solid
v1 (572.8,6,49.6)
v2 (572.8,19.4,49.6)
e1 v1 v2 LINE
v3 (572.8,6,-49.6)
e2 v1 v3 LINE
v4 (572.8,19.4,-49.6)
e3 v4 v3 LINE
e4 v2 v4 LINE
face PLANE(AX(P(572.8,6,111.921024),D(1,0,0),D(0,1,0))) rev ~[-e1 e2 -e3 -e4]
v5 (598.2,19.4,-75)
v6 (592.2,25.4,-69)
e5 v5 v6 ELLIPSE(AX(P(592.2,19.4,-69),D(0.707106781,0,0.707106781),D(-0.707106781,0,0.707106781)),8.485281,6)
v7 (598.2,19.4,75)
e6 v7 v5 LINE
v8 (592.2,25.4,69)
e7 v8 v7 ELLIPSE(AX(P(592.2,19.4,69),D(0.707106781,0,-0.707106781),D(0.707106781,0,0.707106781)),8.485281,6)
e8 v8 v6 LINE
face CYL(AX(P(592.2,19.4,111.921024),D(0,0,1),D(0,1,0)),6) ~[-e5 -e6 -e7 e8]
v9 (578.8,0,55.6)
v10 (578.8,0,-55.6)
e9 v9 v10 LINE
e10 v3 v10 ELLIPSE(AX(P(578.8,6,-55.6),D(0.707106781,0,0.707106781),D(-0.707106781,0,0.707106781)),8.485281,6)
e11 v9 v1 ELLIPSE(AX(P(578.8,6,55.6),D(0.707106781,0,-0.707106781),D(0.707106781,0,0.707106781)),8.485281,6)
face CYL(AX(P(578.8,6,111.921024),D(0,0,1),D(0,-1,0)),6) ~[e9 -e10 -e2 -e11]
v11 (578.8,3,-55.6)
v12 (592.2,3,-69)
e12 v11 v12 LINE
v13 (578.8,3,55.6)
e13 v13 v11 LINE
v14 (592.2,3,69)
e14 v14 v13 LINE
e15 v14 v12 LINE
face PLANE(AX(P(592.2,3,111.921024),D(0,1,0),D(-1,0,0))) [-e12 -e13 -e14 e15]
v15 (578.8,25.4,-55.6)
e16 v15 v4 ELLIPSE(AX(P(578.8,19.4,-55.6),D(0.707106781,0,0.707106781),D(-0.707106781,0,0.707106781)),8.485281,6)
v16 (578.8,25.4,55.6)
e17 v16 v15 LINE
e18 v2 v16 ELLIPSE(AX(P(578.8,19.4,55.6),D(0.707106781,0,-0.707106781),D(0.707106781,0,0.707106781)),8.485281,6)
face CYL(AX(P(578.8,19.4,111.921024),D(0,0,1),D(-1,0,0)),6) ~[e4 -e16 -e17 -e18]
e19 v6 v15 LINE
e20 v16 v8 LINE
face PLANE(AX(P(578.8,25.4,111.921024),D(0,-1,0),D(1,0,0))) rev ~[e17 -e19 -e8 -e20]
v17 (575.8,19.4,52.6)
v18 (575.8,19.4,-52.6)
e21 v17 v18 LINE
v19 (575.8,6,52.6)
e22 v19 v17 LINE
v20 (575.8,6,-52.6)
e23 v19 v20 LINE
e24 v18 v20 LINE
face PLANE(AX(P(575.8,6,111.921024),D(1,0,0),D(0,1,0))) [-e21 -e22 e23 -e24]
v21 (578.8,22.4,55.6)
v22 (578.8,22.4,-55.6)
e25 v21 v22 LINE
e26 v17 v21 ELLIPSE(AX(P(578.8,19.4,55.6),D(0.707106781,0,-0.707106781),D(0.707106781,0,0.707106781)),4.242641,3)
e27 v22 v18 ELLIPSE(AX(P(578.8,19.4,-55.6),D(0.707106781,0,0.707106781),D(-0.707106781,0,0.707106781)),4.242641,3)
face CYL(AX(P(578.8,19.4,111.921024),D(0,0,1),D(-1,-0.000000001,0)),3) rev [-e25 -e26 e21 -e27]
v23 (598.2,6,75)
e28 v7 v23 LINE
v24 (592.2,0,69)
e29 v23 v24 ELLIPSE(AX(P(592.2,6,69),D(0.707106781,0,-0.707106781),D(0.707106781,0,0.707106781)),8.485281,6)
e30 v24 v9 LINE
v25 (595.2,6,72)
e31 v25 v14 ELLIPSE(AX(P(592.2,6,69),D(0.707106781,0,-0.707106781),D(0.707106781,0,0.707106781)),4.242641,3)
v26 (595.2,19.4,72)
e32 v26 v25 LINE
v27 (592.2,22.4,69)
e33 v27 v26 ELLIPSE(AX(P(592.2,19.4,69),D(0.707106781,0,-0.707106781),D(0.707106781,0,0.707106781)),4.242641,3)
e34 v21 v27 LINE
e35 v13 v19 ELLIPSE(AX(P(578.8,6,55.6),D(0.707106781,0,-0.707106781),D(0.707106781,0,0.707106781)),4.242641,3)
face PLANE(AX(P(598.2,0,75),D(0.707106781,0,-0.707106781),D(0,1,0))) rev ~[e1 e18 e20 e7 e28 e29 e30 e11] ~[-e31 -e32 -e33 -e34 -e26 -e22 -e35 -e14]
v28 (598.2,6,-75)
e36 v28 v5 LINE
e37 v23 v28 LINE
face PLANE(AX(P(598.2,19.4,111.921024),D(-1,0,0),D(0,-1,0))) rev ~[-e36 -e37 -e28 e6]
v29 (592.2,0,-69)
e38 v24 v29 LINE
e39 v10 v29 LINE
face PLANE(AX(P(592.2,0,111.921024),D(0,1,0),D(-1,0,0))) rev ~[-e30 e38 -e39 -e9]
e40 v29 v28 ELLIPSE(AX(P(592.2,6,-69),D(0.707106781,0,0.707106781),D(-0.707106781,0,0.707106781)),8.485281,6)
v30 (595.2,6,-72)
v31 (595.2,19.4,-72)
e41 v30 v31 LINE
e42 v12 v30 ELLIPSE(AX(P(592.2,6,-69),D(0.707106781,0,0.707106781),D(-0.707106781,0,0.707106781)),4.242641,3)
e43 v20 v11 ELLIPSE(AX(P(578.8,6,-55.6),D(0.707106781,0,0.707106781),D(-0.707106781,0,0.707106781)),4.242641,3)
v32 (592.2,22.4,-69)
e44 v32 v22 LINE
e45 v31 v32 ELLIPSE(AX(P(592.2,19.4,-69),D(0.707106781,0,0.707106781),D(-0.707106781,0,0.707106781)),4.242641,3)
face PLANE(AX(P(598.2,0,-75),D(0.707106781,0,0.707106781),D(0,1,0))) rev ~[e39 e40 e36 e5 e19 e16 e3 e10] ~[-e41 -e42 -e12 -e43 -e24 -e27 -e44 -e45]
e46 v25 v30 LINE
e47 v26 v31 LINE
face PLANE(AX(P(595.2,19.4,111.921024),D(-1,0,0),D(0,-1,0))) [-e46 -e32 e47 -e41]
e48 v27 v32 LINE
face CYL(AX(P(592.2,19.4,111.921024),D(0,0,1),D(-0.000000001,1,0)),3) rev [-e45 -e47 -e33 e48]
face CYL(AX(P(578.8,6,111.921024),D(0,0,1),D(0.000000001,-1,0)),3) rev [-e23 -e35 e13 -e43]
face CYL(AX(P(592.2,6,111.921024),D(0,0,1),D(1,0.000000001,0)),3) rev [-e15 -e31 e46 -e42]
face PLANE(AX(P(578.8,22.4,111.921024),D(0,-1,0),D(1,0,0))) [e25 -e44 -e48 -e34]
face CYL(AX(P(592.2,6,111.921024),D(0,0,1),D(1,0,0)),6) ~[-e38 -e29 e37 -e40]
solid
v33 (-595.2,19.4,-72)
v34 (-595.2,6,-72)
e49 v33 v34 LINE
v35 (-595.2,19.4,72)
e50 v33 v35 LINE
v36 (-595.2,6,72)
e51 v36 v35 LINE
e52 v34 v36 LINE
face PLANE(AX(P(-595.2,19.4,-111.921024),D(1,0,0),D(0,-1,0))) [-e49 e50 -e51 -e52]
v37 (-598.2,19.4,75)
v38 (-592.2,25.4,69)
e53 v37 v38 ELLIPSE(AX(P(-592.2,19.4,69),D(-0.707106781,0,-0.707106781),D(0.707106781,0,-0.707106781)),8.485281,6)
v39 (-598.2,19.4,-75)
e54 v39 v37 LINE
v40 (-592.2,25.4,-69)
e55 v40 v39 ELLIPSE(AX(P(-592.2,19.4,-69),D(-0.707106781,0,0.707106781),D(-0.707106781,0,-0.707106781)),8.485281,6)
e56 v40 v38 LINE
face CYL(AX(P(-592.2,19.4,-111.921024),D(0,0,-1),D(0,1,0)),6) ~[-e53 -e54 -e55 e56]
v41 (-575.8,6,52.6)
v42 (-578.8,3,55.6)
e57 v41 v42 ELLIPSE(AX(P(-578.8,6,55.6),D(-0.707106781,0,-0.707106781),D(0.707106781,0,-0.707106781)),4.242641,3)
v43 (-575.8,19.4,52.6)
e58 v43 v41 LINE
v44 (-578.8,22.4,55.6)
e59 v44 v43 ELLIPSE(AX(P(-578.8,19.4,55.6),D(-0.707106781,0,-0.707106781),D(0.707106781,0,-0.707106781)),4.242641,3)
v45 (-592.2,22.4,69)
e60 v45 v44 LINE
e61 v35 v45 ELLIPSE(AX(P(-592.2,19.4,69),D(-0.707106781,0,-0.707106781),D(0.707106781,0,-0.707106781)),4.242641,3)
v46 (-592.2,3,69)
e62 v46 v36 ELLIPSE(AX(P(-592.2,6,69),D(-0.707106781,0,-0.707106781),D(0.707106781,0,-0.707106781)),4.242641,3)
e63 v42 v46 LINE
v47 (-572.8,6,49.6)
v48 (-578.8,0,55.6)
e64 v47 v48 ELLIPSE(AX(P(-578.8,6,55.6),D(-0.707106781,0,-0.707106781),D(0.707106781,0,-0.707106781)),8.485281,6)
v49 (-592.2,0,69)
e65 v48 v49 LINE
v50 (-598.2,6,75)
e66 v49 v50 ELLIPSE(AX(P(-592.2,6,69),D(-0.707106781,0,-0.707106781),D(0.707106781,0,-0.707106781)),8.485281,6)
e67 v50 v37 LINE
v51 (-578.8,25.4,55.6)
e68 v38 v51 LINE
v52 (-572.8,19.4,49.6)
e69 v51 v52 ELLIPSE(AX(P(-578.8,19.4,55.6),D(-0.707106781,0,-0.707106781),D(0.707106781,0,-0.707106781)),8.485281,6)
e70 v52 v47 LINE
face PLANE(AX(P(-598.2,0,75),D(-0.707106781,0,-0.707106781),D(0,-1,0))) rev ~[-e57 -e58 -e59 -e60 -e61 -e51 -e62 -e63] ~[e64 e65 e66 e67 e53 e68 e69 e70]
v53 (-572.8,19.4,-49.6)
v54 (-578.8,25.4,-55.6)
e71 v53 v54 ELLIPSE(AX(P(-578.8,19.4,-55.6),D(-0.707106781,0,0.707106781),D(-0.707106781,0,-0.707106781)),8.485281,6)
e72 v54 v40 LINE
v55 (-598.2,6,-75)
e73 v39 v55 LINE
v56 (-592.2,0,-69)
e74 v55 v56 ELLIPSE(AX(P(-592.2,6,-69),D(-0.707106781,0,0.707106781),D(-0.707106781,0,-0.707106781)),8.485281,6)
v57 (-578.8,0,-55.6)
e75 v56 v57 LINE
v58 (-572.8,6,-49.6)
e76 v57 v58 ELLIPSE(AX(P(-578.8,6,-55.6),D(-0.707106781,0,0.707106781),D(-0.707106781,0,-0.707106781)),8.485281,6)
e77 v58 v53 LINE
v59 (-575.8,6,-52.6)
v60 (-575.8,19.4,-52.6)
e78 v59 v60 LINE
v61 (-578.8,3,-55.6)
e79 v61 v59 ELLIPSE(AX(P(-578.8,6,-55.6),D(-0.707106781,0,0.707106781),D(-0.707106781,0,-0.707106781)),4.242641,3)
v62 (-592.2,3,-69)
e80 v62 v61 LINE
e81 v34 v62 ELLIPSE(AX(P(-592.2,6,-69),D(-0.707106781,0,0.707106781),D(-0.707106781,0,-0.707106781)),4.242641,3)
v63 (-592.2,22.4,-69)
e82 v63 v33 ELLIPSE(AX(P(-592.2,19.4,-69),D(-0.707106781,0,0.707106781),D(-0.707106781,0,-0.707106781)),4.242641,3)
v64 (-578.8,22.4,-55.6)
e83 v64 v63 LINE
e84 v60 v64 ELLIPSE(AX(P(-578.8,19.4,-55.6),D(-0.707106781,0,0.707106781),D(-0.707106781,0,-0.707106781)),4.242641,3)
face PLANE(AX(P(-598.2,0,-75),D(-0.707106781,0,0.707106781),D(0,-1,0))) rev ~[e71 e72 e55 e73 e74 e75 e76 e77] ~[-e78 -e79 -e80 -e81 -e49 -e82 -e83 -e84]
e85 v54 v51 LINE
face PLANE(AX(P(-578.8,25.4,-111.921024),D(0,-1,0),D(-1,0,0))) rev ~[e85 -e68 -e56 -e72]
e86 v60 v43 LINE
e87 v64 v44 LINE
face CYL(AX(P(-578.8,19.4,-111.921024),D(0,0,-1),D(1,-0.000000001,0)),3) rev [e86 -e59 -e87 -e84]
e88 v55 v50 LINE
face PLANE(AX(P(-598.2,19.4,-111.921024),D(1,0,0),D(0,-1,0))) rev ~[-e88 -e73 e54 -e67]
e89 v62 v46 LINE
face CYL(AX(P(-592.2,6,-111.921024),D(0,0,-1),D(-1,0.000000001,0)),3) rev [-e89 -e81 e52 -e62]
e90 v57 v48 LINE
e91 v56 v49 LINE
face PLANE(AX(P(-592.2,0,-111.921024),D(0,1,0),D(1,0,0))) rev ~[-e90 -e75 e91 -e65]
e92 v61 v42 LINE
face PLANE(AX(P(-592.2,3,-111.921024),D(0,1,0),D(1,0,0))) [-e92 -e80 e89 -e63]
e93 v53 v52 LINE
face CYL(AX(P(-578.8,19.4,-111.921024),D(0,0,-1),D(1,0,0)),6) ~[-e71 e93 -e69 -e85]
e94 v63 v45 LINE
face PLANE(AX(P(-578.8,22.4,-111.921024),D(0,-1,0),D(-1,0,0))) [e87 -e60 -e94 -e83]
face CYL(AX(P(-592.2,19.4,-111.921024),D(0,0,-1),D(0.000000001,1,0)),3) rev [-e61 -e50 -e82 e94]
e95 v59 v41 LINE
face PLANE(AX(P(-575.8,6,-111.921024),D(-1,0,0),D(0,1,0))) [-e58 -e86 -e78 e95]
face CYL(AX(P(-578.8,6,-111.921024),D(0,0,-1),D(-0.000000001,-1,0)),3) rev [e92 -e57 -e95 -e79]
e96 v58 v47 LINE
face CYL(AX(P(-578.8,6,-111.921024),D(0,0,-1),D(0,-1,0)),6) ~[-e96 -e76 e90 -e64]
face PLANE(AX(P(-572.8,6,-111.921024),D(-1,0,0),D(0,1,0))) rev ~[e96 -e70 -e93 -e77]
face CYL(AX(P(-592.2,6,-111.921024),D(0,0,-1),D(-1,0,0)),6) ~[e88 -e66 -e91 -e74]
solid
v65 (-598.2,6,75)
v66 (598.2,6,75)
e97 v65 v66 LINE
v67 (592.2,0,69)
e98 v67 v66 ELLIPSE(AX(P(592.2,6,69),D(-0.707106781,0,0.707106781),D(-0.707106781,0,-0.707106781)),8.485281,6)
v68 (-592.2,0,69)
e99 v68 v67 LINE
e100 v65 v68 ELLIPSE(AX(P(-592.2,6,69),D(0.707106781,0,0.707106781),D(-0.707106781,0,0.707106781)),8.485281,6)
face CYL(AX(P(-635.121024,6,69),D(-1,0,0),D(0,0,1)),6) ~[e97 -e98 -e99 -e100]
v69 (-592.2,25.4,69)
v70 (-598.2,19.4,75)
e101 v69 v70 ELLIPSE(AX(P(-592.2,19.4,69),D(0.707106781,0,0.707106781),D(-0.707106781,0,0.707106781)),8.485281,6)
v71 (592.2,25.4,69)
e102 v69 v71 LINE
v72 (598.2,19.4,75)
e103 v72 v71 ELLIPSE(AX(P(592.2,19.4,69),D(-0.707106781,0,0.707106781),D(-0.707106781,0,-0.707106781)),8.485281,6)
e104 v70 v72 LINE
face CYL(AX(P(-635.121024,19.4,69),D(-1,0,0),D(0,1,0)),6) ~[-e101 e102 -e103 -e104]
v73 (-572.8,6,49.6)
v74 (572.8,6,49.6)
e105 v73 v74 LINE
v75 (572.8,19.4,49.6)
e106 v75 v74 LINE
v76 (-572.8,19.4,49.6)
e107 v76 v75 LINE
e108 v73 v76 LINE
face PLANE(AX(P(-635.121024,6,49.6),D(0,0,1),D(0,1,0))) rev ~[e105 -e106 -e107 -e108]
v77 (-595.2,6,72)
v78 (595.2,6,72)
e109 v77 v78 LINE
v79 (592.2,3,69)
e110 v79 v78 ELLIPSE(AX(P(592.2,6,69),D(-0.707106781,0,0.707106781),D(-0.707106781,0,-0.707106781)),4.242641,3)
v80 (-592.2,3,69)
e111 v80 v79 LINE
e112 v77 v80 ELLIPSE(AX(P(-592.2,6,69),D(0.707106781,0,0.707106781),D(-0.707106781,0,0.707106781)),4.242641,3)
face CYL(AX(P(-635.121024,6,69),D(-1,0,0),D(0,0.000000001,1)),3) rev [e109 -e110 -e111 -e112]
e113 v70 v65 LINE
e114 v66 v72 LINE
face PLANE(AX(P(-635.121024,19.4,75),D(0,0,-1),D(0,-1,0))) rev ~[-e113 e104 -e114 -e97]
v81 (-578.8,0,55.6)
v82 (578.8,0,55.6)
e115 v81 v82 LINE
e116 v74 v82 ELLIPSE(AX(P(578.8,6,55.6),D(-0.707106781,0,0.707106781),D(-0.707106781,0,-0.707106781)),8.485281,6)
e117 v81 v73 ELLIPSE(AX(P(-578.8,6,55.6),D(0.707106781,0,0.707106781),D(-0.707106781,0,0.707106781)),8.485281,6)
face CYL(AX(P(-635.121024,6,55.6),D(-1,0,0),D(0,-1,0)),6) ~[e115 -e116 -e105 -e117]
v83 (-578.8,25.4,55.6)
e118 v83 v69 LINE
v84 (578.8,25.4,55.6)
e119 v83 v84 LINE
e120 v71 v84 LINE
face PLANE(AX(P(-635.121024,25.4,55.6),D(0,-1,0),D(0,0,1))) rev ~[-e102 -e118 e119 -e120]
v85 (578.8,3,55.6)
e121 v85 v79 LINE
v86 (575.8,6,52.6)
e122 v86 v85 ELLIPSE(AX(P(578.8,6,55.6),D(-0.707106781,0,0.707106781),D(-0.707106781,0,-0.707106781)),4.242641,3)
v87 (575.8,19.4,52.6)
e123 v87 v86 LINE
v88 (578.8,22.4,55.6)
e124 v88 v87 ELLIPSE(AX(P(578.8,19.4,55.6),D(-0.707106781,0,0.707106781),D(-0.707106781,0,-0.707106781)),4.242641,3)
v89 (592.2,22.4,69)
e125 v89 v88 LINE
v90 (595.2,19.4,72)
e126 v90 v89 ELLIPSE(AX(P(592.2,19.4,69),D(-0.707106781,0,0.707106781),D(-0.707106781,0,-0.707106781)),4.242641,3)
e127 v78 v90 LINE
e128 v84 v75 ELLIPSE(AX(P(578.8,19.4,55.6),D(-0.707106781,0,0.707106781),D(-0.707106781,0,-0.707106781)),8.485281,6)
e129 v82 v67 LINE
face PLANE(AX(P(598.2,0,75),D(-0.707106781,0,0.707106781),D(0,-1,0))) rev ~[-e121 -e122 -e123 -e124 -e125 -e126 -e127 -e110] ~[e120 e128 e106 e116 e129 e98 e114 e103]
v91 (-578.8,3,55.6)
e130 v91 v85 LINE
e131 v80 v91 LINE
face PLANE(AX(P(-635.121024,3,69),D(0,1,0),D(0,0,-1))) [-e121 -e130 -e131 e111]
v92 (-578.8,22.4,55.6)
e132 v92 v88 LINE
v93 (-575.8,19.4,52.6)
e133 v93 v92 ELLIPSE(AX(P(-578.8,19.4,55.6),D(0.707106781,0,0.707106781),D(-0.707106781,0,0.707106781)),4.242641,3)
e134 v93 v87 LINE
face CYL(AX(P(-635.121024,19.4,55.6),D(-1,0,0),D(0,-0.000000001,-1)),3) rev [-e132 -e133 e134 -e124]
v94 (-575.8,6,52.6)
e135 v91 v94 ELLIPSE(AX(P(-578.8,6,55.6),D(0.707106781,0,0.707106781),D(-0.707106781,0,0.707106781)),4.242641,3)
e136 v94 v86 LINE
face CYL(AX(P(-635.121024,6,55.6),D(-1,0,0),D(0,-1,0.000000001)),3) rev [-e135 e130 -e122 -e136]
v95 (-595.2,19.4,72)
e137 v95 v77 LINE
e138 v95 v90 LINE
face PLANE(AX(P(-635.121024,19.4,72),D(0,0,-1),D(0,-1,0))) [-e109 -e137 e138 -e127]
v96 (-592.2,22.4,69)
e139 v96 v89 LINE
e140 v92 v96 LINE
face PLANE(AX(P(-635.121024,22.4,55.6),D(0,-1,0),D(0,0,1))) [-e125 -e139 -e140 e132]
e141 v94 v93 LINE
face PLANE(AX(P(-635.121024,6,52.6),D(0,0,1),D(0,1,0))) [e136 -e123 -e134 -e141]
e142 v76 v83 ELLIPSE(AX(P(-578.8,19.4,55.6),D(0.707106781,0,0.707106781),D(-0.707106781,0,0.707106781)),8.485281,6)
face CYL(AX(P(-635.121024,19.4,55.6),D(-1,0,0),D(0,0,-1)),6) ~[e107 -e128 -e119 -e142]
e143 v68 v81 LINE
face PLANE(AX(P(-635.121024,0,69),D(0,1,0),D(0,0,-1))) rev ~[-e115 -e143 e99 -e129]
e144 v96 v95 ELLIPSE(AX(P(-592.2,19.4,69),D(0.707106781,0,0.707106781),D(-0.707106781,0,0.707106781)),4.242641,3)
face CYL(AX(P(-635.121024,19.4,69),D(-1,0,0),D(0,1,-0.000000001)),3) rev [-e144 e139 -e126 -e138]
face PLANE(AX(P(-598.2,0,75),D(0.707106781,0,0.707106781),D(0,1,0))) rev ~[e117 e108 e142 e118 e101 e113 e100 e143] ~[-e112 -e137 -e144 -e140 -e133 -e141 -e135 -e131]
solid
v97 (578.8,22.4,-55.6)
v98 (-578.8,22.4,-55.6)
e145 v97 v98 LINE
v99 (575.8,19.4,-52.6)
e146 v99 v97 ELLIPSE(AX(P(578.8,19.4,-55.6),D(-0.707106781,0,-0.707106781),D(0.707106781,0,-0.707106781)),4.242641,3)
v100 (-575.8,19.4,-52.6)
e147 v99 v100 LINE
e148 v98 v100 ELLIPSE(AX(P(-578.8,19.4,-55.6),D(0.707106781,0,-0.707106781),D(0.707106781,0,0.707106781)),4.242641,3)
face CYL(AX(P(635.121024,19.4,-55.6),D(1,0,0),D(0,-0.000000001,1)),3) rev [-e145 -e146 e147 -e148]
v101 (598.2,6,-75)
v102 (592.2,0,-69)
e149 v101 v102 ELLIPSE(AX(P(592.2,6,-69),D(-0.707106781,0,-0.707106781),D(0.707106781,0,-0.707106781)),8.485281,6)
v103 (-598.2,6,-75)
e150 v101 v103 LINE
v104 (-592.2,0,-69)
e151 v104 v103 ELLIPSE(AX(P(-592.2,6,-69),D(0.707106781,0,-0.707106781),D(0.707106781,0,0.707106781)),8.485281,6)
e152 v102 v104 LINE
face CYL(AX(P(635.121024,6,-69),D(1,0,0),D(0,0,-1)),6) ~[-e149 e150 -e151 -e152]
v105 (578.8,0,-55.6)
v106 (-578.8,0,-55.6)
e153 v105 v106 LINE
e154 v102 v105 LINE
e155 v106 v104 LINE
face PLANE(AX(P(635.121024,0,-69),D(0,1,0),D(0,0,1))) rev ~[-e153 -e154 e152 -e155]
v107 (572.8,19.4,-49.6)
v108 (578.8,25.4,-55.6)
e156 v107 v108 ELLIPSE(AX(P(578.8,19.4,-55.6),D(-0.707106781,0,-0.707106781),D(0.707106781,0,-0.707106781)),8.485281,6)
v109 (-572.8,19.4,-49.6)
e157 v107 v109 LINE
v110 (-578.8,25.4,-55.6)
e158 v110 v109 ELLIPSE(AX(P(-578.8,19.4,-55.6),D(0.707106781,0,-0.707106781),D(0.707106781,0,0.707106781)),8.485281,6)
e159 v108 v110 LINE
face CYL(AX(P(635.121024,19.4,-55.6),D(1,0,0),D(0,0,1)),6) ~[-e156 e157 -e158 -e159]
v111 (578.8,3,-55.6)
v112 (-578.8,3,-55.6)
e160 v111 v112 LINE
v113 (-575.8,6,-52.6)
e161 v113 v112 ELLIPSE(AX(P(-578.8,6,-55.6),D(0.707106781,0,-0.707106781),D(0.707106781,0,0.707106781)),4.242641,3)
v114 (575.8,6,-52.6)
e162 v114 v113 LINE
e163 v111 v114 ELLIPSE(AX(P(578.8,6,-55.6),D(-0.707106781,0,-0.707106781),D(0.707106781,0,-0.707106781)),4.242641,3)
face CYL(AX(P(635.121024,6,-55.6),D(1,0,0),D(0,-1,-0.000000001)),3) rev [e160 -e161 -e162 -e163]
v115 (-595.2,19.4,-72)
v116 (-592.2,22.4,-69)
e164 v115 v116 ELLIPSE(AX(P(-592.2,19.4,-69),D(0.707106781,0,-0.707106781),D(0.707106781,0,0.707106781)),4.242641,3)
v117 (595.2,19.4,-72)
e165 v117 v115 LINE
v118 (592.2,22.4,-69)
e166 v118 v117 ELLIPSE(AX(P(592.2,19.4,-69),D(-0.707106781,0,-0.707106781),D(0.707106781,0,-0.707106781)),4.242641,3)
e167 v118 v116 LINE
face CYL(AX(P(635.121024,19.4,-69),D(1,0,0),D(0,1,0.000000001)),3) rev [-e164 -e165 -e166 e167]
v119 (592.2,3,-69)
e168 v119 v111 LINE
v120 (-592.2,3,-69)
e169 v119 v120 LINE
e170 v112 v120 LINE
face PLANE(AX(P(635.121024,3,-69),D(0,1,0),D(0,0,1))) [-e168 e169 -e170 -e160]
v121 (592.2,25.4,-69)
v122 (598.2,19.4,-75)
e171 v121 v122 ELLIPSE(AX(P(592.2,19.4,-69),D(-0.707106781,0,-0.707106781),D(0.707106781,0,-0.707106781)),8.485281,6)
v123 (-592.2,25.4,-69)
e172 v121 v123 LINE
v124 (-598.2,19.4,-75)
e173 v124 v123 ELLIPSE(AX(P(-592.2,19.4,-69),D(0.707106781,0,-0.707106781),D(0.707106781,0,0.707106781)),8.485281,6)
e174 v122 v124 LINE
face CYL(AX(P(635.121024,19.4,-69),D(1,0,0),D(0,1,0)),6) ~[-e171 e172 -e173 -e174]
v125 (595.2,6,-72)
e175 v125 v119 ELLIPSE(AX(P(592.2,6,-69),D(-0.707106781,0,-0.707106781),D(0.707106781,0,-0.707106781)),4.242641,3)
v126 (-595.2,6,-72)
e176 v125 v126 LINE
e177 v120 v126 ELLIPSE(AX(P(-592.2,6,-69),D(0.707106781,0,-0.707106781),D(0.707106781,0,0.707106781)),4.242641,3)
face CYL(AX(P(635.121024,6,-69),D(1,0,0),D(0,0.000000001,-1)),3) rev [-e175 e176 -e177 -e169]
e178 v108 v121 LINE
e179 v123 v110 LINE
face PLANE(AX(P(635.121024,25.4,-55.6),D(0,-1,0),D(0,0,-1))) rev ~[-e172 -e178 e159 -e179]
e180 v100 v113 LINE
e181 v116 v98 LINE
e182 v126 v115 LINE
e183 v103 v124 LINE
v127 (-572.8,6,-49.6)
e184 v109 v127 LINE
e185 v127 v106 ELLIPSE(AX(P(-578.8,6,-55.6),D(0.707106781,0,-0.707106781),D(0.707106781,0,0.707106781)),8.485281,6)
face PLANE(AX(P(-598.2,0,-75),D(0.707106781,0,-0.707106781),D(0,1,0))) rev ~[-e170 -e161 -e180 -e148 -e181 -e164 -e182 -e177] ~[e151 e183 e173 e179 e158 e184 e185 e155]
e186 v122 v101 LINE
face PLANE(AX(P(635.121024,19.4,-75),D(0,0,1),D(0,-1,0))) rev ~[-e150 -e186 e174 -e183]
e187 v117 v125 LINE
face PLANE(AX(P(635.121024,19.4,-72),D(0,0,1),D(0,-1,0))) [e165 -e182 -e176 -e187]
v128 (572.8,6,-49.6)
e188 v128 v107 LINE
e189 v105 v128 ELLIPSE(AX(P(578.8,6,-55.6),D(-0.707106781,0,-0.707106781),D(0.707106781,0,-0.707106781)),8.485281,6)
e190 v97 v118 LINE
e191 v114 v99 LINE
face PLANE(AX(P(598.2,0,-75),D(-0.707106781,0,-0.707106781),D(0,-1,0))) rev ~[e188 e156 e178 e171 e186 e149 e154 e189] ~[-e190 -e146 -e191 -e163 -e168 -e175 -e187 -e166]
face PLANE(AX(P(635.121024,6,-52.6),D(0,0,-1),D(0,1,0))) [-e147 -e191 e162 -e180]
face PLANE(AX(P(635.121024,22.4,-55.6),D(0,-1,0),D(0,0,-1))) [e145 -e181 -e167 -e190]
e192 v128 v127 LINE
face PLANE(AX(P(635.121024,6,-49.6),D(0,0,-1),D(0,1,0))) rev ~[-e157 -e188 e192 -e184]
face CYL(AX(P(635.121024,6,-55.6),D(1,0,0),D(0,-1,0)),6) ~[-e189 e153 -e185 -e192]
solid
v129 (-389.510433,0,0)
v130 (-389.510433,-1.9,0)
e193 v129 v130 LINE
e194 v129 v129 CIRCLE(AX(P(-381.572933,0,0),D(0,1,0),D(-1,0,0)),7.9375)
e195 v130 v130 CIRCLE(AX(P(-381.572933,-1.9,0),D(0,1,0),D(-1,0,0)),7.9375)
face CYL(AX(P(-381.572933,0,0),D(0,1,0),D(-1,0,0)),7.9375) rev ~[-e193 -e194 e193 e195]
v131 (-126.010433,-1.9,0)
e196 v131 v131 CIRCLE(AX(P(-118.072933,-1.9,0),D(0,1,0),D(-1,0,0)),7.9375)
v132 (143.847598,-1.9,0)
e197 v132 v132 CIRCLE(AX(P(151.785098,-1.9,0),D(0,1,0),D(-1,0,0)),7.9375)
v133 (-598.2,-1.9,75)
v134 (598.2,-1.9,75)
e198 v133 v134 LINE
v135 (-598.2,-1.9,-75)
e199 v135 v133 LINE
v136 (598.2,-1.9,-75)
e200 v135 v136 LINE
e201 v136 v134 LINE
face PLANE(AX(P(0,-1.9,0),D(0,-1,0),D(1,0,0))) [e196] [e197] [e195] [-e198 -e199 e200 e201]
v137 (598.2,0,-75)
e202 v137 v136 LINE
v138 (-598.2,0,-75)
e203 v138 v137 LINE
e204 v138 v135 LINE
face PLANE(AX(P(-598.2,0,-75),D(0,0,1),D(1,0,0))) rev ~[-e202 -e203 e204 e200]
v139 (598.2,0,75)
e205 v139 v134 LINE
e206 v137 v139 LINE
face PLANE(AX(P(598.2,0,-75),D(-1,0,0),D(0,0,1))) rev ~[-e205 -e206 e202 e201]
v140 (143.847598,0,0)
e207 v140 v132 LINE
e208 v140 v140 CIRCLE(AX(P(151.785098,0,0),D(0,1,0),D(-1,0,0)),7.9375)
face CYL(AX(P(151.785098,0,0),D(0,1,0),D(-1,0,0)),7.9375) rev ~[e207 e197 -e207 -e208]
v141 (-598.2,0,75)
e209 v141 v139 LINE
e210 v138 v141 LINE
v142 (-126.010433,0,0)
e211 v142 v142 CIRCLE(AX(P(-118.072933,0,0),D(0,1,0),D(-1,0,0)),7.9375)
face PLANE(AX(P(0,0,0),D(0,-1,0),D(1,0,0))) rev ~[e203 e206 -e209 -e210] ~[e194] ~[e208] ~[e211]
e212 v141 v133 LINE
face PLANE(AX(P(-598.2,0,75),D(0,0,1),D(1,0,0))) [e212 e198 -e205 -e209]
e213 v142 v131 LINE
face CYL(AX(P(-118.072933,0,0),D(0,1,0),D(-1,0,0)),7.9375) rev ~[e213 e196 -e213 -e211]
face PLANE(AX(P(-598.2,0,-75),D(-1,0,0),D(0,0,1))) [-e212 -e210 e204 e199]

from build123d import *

# Parameters (mm, degrees)
TUBO_CUADRADO_2_X_2_X_0_25_1_DEPTH      = 186.921024484
TUBO_CUADRADO_2_X_2_X_0_25_1_DEPTH_BACK = 36.921024484
TUBO_CUADRADO_2_X_2_X_0_25_1_2_DEPTH    = 1270.242048969
TUBO_CUADRADO_2_X_2_X_0_25_1_3_DEPTH    = 223.842048969
TUBO_CUADRADO_2_X_2_X_0_25_1_4_DEPTH    = 1270.242048969
CROQUIS3_W                              = 1196.4
CROQUIS3_H                              = 150
SALIENTE_EXTRUIR1_DEPTH                 = 1.9
CROQUIS5_R                              = 7.9375
CORTAR_EXTRUIR1_DEPTH                   = 10


with BuildPart() as part:
    # Sketch1 → Tubo cuadrado 2 X 2 X 0.25(1) (new, two sides: drawn at the far end of the back side and taken through both)
    with BuildSketch(Plane(origin=(-585.5, 12.7, -75), x_dir=(1, 0, 0), z_dir=(0, 0, 1)).offset(-TUBO_CUADRADO_2_X_2_X_0_25_1_DEPTH_BACK)):
        with BuildLine():
            Line((-6.7, -12.7), (6.7, -12.7))
            ThreePointArc((6.7, -12.7), (10.942640687, -10.942640687), (12.7, -6.7))
            Line((12.7, -6.7), (12.7, 6.7))
            ThreePointArc((12.7, 6.7), (10.942640687, 10.942640687), (6.7, 12.7))
            Line((6.7, 12.7), (-6.7, 12.7))
            ThreePointArc((-6.7, 12.7), (-10.942640687, 10.942640687), (-12.7, 6.7))
            Line((-12.7, 6.7), (-12.7, -6.7))
            ThreePointArc((-12.7, -6.7), (-10.942640687, -10.942640687), (-6.7, -12.7))
        make_face()
        with BuildLine():
            Line((-6.7, -9.7), (6.7, -9.7))
            ThreePointArc((6.7, -9.7), (8.821320344, -8.821320344), (9.7, -6.7))
            Line((9.7, -6.7), (9.7, 6.7))
            ThreePointArc((9.7, 6.7), (8.821320344, 8.821320344), (6.7, 9.7))
            Line((6.7, 9.7), (-6.7, 9.7))
            ThreePointArc((-6.7, 9.7), (-8.821320344, 8.821320344), (-9.7, 6.7))
            Line((-9.7, 6.7), (-9.7, -6.7))
            ThreePointArc((-9.7, -6.7), (-8.821320344, -8.821320344), (-6.7, -9.7))
        make_face(mode=Mode.SUBTRACT)
    extrude(amount=TUBO_CUADRADO_2_X_2_X_0_25_1_DEPTH + TUBO_CUADRADO_2_X_2_X_0_25_1_DEPTH_BACK)

    # Tubo cuadrado 2 X 2 X 0.25(1) mitre 1
    split(bisect_by=Plane(origin=(-598.2, 0, -75), x_dir=(0, -1, 0), z_dir=(-0.707106781, 0, 0.707106781)), keep=Keep.TOP)

    # Tubo cuadrado 2 X 2 X 0.25(1) mitre 2
    split(bisect_by=Plane(origin=(-598.2, 0, 75), x_dir=(0, -1, 0), z_dir=(-0.707106781, 0, -0.707106781)), keep=Keep.TOP)


with BuildPart() as body_2:
    # Sketch1 on segment 2 (carried to segment 2) → Tubo cuadrado 2 X 2 X 0.25_1 2 (new body)
    with BuildSketch(Plane(origin=(-635.121024484, 12.7, 62.3), x_dir=(0, 0, -1), z_dir=(1, 0, 0))):
        with BuildLine():
            Line((-6.7, -12.7), (6.7, -12.7))
            ThreePointArc((6.7, -12.7), (10.942640687, -10.942640687), (12.7, -6.7))
            Line((12.7, -6.7), (12.7, 6.7))
            ThreePointArc((12.7, 6.7), (10.942640687, 10.942640687), (6.7, 12.7))
            Line((6.7, 12.7), (-6.7, 12.7))
            ThreePointArc((-6.7, 12.7), (-10.942640687, 10.942640687), (-12.7, 6.7))
            Line((-12.7, 6.7), (-12.7, -6.7))
            ThreePointArc((-12.7, -6.7), (-10.942640687, -10.942640687), (-6.7, -12.7))
        make_face()
        with BuildLine():
            Line((-6.7, -9.7), (6.7, -9.7))
            ThreePointArc((6.7, -9.7), (8.821320344, -8.821320344), (9.7, -6.7))
            Line((9.7, -6.7), (9.7, 6.7))
            ThreePointArc((9.7, 6.7), (8.821320344, 8.821320344), (6.7, 9.7))
            Line((6.7, 9.7), (-6.7, 9.7))
            ThreePointArc((-6.7, 9.7), (-8.821320344, 8.821320344), (-9.7, 6.7))
            Line((-9.7, 6.7), (-9.7, -6.7))
            ThreePointArc((-9.7, -6.7), (-8.821320344, -8.821320344), (-6.7, -9.7))
        make_face(mode=Mode.SUBTRACT)
    extrude(amount=TUBO_CUADRADO_2_X_2_X_0_25_1_2_DEPTH)

    # Tubo cuadrado 2 X 2 X 0.25_1 2 mitre 1
    split(bisect_by=Plane(origin=(-598.2, 0, 75), x_dir=(0, 1, 0), z_dir=(0.707106781, 0, 0.707106781)), keep=Keep.TOP)

    # Tubo cuadrado 2 X 2 X 0.25_1 2 mitre 2
    split(bisect_by=Plane(origin=(598.2, 0, 75), x_dir=(0, -1, 0), z_dir=(-0.707106781, 0, 0.707106781)), keep=Keep.TOP)


with BuildPart() as body_3:
    # Sketch1 on segment 3 (carried to segment 3) → Tubo cuadrado 2 X 2 X 0.25_1 3 (new body)
    with BuildSketch(Plane(origin=(585.5, 12.7, 111.921024484), x_dir=(-1, 0, 0), z_dir=(0, 0, -1))):
        with BuildLine():
            Line((-6.7, -12.7), (6.7, -12.7))
            ThreePointArc((6.7, -12.7), (10.942640687, -10.942640687), (12.7, -6.7))
            Line((12.7, -6.7), (12.7, 6.7))
            ThreePointArc((12.7, 6.7), (10.942640687, 10.942640687), (6.7, 12.7))
            Line((6.7, 12.7), (-6.7, 12.7))
            ThreePointArc((-6.7, 12.7), (-10.942640687, 10.942640687), (-12.7, 6.7))
            Line((-12.7, 6.7), (-12.7, -6.7))
            ThreePointArc((-12.7, -6.7), (-10.942640687, -10.942640687), (-6.7, -12.7))
        make_face()
        with BuildLine():
            Line((-6.7, -9.7), (6.7, -9.7))
            ThreePointArc((6.7, -9.7), (8.821320344, -8.821320344), (9.7, -6.7))
            Line((9.7, -6.7), (9.7, 6.7))
            ThreePointArc((9.7, 6.7), (8.821320344, 8.821320344), (6.7, 9.7))
            Line((6.7, 9.7), (-6.7, 9.7))
            ThreePointArc((-6.7, 9.7), (-8.821320344, 8.821320344), (-9.7, 6.7))
            Line((-9.7, 6.7), (-9.7, -6.7))
            ThreePointArc((-9.7, -6.7), (-8.821320344, -8.821320344), (-6.7, -9.7))
        make_face(mode=Mode.SUBTRACT)
    extrude(amount=TUBO_CUADRADO_2_X_2_X_0_25_1_3_DEPTH)

    # Tubo cuadrado 2 X 2 X 0.25_1 3 mitre 1
    split(bisect_by=Plane(origin=(598.2, 0, -75), x_dir=(0, 1, 0), z_dir=(0.707106781, 0, 0.707106781)), keep=Keep.TOP)

    # Tubo cuadrado 2 X 2 X 0.25_1 3 mitre 2
    split(bisect_by=Plane(origin=(598.2, 0, 75), x_dir=(0, 1, 0), z_dir=(0.707106781, 0, -0.707106781)), keep=Keep.TOP)


with BuildPart() as body_4:
    # Sketch1 on segment 4 (carried to segment 4) → Tubo cuadrado 2 X 2 X 0.25_1 4 (new body)
    with BuildSketch(Plane(origin=(635.121024484, 12.7, -62.3), x_dir=(0, 0, 1), z_dir=(-1, 0, 0))):
        with BuildLine():
            Line((-6.7, -12.7), (6.7, -12.7))
            ThreePointArc((6.7, -12.7), (10.942640687, -10.942640687), (12.7, -6.7))
            Line((12.7, -6.7), (12.7, 6.7))
            ThreePointArc((12.7, 6.7), (10.942640687, 10.942640687), (6.7, 12.7))
            Line((6.7, 12.7), (-6.7, 12.7))
            ThreePointArc((-6.7, 12.7), (-10.942640687, 10.942640687), (-12.7, 6.7))
            Line((-12.7, 6.7), (-12.7, -6.7))
            ThreePointArc((-12.7, -6.7), (-10.942640687, -10.942640687), (-6.7, -12.7))
        make_face()
        with BuildLine():
            Line((-6.7, -9.7), (6.7, -9.7))
            ThreePointArc((6.7, -9.7), (8.821320344, -8.821320344), (9.7, -6.7))
            Line((9.7, -6.7), (9.7, 6.7))
            ThreePointArc((9.7, 6.7), (8.821320344, 8.821320344), (6.7, 9.7))
            Line((6.7, 9.7), (-6.7, 9.7))
            ThreePointArc((-6.7, 9.7), (-8.821320344, 8.821320344), (-9.7, 6.7))
            Line((-9.7, 6.7), (-9.7, -6.7))
            ThreePointArc((-9.7, -6.7), (-8.821320344, -8.821320344), (-6.7, -9.7))
        make_face(mode=Mode.SUBTRACT)
    extrude(amount=TUBO_CUADRADO_2_X_2_X_0_25_1_4_DEPTH)

    # Tubo cuadrado 2 X 2 X 0.25_1 4 mitre 1
    split(bisect_by=Plane(origin=(-598.2, 0, -75), x_dir=(0, 1, 0), z_dir=(0.707106781, 0, -0.707106781)), keep=Keep.TOP)

    # Tubo cuadrado 2 X 2 X 0.25_1 4 mitre 2
    split(bisect_by=Plane(origin=(598.2, 0, -75), x_dir=(0, -1, 0), z_dir=(-0.707106781, 0, -0.707106781)), keep=Keep.TOP)


with BuildPart() as body_5:
    # Croquis3 → Saliente-Extruir1 (new body)
    with BuildSketch(Plane.XZ):
        Rectangle(CROQUIS3_W, CROQUIS3_H)
    extrude(amount=SALIENTE_EXTRUIR1_DEPTH)

    # Croquis5 → Cortar-Extruir1 (cut)
    with BuildSketch(Plane(origin=(0, 0, 0), x_dir=(1, 0, 0), z_dir=(0, 1, 0))):
        with Locations(Location((-381.572933, 0, 0), (0, 0, 180))):
            Circle(CROQUIS5_R)
        with Locations(Location((-118.072933, 0, 0), (0, 0, 180))):
            Circle(CROQUIS5_R)
        with Locations(Location((151.785097887, 0, 0), (0, 0, 180))):
            Circle(CROQUIS5_R)
    extrude(amount=-CORTAR_EXTRUIR1_DEPTH, mode=Mode.SUBTRACT)


solid = Compound([part.part, body_2.part, body_3.part, body_4.part, body_5.part])
